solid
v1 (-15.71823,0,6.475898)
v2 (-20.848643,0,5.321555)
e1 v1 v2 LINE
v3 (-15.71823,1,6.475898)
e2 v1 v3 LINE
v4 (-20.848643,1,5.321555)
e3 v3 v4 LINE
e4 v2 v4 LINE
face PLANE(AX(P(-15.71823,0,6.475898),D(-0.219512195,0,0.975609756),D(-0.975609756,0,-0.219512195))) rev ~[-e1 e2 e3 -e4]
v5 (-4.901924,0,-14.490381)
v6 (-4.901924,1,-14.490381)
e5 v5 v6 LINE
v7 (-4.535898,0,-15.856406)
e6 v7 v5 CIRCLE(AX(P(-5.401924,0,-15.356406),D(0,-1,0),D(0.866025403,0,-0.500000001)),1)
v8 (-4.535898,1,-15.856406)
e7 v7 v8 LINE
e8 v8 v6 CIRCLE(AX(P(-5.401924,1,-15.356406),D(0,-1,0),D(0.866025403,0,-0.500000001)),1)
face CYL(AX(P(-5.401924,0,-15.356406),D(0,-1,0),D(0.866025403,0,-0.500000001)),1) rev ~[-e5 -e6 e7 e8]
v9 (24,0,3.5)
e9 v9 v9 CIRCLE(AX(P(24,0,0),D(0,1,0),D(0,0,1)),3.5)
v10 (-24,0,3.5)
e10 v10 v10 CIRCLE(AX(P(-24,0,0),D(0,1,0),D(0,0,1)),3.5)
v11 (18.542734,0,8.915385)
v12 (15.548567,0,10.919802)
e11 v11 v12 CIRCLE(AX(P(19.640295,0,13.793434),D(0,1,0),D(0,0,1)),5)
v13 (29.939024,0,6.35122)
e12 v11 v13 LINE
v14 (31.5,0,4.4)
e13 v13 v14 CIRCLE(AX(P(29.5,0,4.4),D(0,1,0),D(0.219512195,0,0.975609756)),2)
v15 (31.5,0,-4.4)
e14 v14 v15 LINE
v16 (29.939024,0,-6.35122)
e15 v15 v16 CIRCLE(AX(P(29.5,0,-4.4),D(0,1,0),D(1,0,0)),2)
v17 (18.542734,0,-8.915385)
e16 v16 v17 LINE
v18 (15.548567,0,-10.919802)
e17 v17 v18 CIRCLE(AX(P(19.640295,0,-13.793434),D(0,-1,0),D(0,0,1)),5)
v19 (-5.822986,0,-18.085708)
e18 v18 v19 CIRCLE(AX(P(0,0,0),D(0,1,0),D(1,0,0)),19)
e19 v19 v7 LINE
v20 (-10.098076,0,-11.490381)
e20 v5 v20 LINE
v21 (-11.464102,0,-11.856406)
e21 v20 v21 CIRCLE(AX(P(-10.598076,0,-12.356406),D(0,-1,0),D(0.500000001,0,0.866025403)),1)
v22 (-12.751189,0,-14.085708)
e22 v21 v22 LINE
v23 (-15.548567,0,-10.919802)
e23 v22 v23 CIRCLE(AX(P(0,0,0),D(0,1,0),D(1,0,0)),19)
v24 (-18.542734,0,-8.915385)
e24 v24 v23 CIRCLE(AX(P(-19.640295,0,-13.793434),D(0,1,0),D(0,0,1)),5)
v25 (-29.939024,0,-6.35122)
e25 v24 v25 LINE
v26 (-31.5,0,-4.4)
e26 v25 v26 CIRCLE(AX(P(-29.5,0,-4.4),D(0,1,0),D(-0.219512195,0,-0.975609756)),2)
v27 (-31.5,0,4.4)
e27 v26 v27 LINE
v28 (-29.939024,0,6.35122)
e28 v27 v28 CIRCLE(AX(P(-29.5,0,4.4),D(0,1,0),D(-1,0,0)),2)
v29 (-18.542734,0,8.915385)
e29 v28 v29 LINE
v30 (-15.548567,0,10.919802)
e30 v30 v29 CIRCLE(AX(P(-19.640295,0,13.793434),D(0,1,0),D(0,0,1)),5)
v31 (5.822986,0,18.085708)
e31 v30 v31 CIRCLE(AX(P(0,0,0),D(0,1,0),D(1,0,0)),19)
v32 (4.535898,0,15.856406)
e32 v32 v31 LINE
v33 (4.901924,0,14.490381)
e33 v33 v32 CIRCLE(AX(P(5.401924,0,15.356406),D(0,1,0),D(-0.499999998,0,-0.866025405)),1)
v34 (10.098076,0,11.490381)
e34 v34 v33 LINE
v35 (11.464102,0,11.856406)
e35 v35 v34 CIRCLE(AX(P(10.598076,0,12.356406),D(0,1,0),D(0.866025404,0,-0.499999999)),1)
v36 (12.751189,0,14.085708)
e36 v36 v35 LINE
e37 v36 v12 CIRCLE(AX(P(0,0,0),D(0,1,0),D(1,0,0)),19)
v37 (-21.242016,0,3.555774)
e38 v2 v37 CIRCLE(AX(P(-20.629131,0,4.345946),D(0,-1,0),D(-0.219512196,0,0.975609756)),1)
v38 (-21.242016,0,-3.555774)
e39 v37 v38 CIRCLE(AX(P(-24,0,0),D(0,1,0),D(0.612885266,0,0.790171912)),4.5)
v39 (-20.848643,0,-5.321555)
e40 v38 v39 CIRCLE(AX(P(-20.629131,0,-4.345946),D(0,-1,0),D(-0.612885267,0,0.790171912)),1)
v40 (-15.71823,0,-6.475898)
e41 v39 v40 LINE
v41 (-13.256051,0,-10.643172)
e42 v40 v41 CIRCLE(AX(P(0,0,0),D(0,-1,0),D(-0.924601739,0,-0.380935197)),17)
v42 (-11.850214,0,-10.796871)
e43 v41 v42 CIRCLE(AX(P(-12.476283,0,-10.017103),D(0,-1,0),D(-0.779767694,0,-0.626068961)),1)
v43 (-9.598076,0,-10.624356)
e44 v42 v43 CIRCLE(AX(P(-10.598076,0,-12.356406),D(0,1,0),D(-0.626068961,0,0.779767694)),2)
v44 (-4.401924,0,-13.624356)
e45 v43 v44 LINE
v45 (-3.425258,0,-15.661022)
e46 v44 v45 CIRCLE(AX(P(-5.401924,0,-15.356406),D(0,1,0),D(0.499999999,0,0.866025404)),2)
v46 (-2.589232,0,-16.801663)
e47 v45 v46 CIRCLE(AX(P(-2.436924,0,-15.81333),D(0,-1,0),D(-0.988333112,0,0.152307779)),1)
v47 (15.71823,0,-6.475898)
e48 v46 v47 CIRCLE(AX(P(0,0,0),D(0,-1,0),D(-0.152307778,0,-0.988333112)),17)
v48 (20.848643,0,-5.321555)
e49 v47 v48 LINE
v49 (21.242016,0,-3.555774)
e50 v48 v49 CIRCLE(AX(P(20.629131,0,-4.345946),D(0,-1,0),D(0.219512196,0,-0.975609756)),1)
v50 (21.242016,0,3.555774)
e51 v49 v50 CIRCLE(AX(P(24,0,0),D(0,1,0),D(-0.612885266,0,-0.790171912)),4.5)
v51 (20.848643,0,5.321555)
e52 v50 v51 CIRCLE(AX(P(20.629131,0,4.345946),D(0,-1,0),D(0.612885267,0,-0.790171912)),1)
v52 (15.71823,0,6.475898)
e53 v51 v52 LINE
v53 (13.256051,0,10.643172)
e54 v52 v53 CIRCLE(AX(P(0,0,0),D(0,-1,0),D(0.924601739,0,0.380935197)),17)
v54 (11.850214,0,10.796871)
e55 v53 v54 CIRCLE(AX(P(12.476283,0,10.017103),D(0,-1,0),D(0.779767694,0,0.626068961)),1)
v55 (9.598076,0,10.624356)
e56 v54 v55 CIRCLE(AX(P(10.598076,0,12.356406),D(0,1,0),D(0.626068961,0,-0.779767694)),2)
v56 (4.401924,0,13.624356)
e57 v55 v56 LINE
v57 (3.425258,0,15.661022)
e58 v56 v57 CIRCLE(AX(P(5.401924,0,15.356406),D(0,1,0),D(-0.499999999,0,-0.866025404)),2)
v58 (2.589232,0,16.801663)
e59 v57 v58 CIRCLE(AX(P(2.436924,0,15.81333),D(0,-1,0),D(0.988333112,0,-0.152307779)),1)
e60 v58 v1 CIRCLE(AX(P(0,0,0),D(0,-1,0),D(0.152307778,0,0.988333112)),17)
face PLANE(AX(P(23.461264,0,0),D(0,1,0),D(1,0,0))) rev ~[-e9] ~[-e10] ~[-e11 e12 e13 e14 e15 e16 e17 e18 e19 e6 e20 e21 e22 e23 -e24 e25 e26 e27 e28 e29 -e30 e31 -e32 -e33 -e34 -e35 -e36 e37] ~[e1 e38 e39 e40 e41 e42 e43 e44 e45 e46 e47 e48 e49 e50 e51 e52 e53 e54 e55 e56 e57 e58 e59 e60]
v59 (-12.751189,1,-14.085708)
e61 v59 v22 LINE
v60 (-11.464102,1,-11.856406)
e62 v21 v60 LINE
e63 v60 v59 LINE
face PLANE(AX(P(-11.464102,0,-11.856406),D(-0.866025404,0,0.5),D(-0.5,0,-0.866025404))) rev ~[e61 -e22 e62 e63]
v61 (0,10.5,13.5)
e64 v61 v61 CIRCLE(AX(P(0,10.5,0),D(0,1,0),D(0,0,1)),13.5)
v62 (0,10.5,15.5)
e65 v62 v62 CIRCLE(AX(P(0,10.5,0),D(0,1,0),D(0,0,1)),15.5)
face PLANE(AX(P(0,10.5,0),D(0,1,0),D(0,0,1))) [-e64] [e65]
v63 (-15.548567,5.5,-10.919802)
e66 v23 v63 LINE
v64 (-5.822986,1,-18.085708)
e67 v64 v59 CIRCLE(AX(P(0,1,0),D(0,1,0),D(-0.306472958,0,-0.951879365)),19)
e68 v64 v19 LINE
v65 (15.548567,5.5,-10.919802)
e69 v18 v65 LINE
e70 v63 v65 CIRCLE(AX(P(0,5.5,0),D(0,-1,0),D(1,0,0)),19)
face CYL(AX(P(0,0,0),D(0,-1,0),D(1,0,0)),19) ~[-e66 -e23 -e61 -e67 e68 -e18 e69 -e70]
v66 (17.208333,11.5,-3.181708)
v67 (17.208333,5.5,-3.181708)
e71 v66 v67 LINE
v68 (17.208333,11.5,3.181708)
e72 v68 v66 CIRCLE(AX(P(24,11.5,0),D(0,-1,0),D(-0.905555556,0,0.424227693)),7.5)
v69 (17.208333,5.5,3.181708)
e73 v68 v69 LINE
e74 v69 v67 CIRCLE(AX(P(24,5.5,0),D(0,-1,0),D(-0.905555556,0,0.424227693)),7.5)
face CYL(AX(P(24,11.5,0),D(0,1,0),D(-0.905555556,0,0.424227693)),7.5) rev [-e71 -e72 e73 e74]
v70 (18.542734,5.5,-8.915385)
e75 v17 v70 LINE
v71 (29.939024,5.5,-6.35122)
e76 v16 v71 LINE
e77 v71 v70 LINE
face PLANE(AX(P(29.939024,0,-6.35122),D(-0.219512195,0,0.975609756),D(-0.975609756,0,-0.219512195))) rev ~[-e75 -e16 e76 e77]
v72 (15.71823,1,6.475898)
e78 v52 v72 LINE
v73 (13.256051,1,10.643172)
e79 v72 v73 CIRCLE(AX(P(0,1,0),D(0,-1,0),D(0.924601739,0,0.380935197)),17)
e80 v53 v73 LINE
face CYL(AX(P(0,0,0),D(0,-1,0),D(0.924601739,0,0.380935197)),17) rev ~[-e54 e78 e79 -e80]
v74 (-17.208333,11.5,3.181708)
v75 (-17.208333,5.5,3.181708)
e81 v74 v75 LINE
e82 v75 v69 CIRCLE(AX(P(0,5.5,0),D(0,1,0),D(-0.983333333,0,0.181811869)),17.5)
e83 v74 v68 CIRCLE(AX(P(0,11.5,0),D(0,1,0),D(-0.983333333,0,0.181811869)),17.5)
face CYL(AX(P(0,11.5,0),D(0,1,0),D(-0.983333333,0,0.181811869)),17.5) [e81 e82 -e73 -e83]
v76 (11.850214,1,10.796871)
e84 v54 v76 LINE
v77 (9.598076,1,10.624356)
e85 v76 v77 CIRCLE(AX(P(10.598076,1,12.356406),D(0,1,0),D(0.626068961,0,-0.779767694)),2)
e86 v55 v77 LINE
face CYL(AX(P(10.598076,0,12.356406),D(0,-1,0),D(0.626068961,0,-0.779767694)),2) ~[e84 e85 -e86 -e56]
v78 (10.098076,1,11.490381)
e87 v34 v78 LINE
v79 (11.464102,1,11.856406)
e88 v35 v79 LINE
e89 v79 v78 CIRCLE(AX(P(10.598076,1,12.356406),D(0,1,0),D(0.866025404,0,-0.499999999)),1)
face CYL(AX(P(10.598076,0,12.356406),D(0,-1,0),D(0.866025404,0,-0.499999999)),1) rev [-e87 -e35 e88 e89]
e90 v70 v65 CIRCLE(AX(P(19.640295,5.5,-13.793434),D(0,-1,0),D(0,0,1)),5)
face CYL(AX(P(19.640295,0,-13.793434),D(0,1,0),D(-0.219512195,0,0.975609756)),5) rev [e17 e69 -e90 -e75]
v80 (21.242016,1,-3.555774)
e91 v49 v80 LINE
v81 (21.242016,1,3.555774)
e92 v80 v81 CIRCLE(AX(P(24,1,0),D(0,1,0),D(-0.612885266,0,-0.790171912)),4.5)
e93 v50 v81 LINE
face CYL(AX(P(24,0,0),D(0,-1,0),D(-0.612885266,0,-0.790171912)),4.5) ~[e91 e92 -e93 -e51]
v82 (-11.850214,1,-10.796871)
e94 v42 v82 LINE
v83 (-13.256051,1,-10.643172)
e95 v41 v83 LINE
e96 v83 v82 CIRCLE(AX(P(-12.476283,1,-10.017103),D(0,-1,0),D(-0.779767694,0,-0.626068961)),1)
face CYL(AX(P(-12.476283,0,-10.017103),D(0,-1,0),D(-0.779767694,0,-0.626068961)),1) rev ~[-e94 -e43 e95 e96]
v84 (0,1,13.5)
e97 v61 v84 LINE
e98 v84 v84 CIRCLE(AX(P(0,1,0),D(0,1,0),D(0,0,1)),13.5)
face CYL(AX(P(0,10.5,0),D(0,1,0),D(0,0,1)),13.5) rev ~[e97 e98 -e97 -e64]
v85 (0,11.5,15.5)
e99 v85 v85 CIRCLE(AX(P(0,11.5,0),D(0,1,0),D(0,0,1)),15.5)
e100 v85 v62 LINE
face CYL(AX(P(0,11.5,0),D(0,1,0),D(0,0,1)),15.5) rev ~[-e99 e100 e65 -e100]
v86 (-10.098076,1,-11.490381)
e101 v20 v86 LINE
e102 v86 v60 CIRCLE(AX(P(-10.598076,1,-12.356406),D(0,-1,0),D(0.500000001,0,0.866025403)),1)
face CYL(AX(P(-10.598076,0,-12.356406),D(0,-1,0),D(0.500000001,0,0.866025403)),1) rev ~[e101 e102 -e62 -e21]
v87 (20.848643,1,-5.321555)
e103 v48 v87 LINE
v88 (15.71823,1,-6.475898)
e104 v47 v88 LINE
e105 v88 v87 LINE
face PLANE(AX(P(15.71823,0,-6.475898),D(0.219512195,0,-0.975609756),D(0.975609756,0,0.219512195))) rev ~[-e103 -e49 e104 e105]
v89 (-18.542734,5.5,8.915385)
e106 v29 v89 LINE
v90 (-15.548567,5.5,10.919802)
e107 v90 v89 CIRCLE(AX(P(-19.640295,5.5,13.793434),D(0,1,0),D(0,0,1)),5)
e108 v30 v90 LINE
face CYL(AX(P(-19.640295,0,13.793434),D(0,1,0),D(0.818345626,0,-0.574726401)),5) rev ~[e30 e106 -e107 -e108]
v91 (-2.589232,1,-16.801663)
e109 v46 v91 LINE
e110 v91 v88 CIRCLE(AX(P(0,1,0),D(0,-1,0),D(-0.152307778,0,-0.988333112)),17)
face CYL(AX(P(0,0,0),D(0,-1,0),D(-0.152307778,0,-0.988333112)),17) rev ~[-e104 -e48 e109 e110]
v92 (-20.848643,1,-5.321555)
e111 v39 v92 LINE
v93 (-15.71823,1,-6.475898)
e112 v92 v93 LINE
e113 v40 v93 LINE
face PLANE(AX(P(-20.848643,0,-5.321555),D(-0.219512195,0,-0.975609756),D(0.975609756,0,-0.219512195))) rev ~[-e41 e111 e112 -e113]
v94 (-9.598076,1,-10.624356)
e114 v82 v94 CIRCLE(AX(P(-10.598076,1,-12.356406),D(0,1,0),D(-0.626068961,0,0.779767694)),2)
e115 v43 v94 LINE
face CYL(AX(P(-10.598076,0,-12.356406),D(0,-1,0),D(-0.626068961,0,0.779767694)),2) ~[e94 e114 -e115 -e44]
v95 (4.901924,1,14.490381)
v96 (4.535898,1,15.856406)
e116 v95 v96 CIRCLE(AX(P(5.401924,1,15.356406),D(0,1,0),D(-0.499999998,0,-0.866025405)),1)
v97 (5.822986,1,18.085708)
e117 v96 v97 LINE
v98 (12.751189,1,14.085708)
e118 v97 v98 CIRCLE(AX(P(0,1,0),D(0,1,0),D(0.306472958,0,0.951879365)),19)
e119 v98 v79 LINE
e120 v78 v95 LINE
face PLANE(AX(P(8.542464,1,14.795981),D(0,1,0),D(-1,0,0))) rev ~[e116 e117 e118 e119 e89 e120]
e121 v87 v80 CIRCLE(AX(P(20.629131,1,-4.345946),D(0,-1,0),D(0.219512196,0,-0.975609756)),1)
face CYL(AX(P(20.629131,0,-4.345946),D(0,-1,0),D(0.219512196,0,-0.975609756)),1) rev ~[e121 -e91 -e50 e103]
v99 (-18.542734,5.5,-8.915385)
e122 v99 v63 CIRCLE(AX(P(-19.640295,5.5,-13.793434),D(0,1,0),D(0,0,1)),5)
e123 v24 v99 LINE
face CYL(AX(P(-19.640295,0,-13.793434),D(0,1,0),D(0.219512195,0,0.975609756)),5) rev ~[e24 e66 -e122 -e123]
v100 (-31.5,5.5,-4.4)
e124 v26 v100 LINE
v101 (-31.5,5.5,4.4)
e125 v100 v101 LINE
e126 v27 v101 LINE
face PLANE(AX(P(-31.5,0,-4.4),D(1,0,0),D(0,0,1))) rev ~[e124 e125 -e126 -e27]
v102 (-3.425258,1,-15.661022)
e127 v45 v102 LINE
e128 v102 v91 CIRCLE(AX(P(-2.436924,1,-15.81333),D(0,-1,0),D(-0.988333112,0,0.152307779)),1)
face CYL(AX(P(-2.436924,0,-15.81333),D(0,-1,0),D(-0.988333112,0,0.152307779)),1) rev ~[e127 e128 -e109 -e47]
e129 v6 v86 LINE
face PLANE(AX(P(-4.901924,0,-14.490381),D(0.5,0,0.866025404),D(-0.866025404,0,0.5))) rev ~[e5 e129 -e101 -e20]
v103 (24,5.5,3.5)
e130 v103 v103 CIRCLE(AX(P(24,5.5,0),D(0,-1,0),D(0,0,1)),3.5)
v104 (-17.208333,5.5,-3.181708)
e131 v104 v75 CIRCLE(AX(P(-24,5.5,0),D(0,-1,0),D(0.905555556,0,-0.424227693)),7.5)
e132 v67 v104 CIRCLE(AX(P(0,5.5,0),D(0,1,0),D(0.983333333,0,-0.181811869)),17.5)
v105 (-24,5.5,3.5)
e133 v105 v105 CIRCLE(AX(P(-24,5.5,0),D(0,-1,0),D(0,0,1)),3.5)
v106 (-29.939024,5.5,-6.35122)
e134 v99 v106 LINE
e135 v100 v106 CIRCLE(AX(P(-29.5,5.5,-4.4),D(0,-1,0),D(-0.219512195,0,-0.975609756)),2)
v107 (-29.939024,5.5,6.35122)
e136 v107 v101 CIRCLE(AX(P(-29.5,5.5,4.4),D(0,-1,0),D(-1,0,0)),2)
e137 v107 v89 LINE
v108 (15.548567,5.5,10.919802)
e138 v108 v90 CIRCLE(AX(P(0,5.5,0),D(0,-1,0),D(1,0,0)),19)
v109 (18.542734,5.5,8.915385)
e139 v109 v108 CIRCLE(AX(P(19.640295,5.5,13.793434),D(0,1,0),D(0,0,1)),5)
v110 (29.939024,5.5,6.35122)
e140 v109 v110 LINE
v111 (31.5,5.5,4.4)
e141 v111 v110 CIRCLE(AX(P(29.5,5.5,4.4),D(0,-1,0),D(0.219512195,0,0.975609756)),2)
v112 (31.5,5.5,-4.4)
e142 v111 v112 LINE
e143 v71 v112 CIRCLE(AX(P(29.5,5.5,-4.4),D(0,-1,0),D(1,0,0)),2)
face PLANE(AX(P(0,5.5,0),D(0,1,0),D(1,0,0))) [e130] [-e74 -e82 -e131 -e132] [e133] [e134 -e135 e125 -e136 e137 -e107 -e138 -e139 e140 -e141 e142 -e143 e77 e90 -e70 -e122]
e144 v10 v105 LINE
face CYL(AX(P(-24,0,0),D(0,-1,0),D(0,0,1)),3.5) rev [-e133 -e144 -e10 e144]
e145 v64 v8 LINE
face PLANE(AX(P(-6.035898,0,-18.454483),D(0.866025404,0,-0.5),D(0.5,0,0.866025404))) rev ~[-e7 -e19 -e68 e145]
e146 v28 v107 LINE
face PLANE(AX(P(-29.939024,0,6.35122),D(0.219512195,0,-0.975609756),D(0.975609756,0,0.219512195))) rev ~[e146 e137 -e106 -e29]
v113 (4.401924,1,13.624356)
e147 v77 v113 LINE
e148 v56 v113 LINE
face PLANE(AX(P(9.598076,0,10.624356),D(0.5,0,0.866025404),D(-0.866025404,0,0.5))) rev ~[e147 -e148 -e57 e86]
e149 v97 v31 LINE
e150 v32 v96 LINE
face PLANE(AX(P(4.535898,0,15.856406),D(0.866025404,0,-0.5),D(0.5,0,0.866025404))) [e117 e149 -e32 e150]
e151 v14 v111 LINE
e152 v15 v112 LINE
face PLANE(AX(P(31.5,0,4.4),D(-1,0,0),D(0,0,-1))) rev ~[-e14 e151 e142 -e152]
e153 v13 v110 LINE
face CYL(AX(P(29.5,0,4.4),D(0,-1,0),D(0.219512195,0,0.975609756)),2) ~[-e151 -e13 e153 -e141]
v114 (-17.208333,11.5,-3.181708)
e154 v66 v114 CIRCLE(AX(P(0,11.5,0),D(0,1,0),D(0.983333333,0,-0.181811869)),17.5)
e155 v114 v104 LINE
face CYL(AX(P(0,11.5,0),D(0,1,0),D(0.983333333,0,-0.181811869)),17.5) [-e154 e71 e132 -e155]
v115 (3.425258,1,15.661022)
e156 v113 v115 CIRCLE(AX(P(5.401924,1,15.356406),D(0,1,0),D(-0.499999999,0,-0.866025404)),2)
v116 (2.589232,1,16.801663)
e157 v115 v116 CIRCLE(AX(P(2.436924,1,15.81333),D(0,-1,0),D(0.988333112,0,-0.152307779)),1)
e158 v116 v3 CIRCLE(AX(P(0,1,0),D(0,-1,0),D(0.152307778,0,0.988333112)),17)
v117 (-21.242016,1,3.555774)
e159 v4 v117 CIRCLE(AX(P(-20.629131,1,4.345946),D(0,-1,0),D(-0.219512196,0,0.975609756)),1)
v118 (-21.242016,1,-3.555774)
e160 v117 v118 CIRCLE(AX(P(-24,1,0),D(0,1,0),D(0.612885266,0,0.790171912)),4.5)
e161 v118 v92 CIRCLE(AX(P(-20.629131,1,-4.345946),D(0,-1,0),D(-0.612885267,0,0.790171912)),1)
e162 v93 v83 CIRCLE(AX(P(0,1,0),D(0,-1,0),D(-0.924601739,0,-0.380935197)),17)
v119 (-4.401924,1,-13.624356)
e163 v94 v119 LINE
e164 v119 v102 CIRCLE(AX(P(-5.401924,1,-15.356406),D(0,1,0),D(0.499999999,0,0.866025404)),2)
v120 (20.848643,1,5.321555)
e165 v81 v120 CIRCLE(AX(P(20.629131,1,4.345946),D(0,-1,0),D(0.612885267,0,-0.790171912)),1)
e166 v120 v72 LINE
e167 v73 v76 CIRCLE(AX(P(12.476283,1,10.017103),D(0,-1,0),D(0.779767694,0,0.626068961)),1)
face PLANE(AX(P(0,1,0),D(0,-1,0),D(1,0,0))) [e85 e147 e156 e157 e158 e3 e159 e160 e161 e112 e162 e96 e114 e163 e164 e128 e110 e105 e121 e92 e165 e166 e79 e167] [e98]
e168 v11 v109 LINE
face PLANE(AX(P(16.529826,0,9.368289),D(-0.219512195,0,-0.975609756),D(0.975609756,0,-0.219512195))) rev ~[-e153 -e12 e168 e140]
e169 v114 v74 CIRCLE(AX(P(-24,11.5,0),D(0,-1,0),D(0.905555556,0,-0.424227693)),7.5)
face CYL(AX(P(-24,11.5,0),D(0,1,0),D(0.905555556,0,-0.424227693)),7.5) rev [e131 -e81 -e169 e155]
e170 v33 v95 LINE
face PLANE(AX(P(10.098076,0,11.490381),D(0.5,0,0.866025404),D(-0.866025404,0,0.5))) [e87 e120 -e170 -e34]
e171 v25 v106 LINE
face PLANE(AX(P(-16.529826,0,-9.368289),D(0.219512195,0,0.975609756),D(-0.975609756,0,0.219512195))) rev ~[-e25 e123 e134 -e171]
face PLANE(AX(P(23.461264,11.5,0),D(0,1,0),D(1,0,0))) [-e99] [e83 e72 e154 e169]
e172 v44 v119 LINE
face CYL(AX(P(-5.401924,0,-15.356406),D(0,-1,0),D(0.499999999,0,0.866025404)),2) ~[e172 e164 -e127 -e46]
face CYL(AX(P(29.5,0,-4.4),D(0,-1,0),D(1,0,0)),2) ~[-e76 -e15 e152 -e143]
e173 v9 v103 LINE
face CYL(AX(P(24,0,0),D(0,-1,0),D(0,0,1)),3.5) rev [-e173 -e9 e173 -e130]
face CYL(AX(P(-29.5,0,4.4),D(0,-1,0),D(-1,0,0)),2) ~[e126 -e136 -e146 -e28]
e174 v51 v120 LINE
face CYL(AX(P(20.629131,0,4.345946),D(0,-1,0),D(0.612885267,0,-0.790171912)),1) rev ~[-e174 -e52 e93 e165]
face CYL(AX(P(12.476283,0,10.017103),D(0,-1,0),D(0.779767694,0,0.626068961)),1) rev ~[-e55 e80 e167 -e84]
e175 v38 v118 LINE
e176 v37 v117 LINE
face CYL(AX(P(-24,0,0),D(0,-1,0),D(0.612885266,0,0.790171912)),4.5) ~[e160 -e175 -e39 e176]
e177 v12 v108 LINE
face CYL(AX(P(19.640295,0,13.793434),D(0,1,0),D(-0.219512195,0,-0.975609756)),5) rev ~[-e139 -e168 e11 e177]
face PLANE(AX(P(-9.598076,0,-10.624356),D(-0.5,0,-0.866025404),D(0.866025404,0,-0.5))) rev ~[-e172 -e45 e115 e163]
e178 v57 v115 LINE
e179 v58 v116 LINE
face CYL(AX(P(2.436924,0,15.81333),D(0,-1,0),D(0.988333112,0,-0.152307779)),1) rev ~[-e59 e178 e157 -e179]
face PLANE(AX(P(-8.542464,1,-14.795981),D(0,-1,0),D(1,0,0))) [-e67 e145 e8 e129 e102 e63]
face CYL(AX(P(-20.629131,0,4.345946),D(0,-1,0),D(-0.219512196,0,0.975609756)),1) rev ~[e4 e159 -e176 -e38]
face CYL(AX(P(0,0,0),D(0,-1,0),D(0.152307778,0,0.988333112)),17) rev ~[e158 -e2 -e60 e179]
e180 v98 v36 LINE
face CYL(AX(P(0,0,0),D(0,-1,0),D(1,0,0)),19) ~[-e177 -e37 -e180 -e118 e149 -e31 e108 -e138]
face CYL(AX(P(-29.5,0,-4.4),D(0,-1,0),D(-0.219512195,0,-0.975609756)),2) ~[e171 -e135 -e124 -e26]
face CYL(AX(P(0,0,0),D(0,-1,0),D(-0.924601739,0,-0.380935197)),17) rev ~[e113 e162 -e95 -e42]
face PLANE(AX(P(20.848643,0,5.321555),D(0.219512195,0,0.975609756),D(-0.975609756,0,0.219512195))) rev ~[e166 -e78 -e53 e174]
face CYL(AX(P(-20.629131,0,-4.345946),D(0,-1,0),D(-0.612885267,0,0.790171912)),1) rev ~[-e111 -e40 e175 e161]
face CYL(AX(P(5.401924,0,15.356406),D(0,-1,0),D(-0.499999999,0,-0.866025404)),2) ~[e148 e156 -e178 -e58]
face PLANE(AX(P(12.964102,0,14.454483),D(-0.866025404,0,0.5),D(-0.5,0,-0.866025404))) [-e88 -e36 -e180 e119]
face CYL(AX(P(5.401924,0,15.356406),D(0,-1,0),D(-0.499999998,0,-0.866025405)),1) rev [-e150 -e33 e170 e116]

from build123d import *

# Parameters (mm, degrees)
SKETCH_1_R          = 3.5
SKETCH_1_R_2        = 19
EXTRUDE_1_DEPTH     = 11.5
SKETCH_2_R          = 42.113859259
CUT_EXTRUDE_1_DEPTH = 6
SKETCH_3_R          = 15.5
CUT_EXTRUDE_3_DEPTH = 1
CUT_EXTRUDE_4_DEPTH = 1
FILLET_1_R          = 5
SKETCH_5_R          = 13.5
CUT_EXTRUDE_6_DEPTH = 21


with BuildPart() as part:
    # Эскиз1 → Бобышка-Вытянуть1 (new body)
    # profile 1 of 3: a face of its own
    with BuildSketch(Plane(origin=(0, 0, 0), x_dir=(1, 0, 0), z_dir=(0, 1, 0))):
        with BuildLine():
            ThreePointArc((-29.93902439, 6.351219512), (-31.061737619, 5.649390095), (-31.5, 4.4))
            Line((-31.5, 4.4), (-31.5, -4.4))
            ThreePointArc((-31.5, -4.4), (-31.061737619, -5.649390095), (-29.93902439, -6.351219512))
            Line((-29.93902439, -6.351219512), (-16.529826375, -9.368289066))
            ThreePointArc((-16.529826375, -9.368289066), (-19, 0), (-16.529826375, 9.368289066))
            Line((-16.529826375, 9.368289066), (-29.93902439, 6.351219512))
        make_face()
        with Locations(Location((-24, 0, 0), (0, 0, 270))):
            Circle(SKETCH_1_R, mode=Mode.SUBTRACT)
    # profile 2 of 3: a face of its own
    with BuildSketch(Plane(origin=(0, 0, 0), x_dir=(1, 0, 0), z_dir=(0, 1, 0))):
        Circle(SKETCH_1_R_2)
    # profile 3 of 3: a face of its own
    with BuildSketch(Plane(origin=(0, 0, 0), x_dir=(1, 0, 0), z_dir=(0, 1, 0))):
        with BuildLine():
            Line((29.93902439, 6.351219512), (16.529826375, 9.368289066))
            ThreePointArc((16.529826375, 9.368289066), (18.372080736, 4.844238788), (19, 0))
            ThreePointArc((19, 0), (18.372080736, -4.844238788), (16.529826375, -9.368289066))
            Line((16.529826375, -9.368289066), (29.93902439, -6.351219512))
            ThreePointArc((29.93902439, -6.351219512), (31.061737619, -5.649390095), (31.5, -4.4))
            Line((31.5, -4.4), (31.5, 4.4))
            ThreePointArc((31.5, 4.4), (31.061737619, 5.649390095), (29.93902439, 6.351219512))
        make_face()
        with Locations(Location((24, 0, 0), (0, 0, 270))):
            Circle(SKETCH_1_R, mode=Mode.SUBTRACT)
    extrude(amount=EXTRUDE_1_DEPTH)

    # Эскиз2 → Вырез-Вытянуть1 (cut)
    with BuildSketch(Plane(origin=(0, 11.5, 0), x_dir=(1, 0, 0), z_dir=(0, 1, 0))):
        Circle(SKETCH_2_R)
        with BuildLine():
            ThreePointArc((17.208333333, 3.1817077), (0, 17.5), (-17.208333333, 3.1817077))
            ThreePointArc((-17.208333333, 3.1817077), (-16.5, 0), (-17.208333333, -3.1817077))
            ThreePointArc((-17.208333333, -3.1817077), (0, -17.5), (17.208333333, -3.1817077))
            ThreePointArc((17.208333333, -3.1817077), (16.5, 0), (17.208333333, 3.1817077))
        make_face(mode=Mode.SUBTRACT)
    extrude(amount=-CUT_EXTRUDE_1_DEPTH, mode=Mode.SUBTRACT)

    # Эскиз3 → Вырез-Вытянуть3 (cut)
    with BuildSketch(Plane(origin=(0, 11.5, 0), x_dir=(1, 0, 0), z_dir=(0, 1, 0))):
        with Locations(Location((0, 0, 0), (0, 0, 270))):
            Circle(SKETCH_3_R)
    extrude(amount=-CUT_EXTRUDE_3_DEPTH, mode=Mode.SUBTRACT)

    # Эскиз4 → Вырез-Вытянуть4 (cut)
    with BuildSketch(Plane.XZ):
        with BuildLine():
            Line((-20.848643232, -5.321555273), (-15.718229563, -6.475898348))
            ThreePointArc((-15.718229563, -6.475898348), (-14.636214456, -8.647613914), (-13.256050789, -10.643172341))
            ThreePointArc((-13.256050789, -10.643172341), (-12.584964511, -11.011180012), (-11.850214134, -10.796871074))
            ThreePointArc((-11.850214134, -10.796871074), (-10.750830182, -10.362248437), (-9.598076211, -10.624355653))
            Line((-9.598076211, -10.624355653), (-4.401923789, -13.624355653))
            ThreePointArc((-4.401923789, -13.624355653), (-3.598555295, -14.491616268), (-3.425257564, -15.661022017))
            ThreePointArc((-3.425257564, -15.661022017), (-3.243479361, -16.404488978), (-2.58923223, -16.801662908))
            ThreePointArc((-2.58923223, -16.801662908), (8.351526577, -14.807160559), (15.718229563, -6.475898348))
            Line((15.718229563, -6.475898348), (20.848643232, -5.321555273))
            ThreePointArc((20.848643232, -5.321555273), (21.605203579, -4.563390663), (21.242016303, -3.555773605))
            ThreePointArc((21.242016303, -3.555773605), (19.5, 0), (21.242016303, 3.555773605))
            ThreePointArc((21.242016303, 3.555773605), (21.605203579, 4.563390663), (20.848643232, 5.321555273))
            Line((20.848643232, 5.321555273), (15.718229563, 6.475898348))
            ThreePointArc((15.718229563, 6.475898348), (14.636214456, 8.647613914), (13.256050789, 10.643172341))
            ThreePointArc((13.256050789, 10.643172341), (12.584964511, 11.011180012), (11.850214134, 10.796871074))
            ThreePointArc((11.850214134, 10.796871074), (10.750830182, 10.362248437), (9.598076211, 10.624355653))
            Line((9.598076211, 10.624355653), (4.401923789, 13.624355653))
            ThreePointArc((4.401923789, 13.624355653), (3.598555295, 14.491616268), (3.425257564, 15.661022017))
            ThreePointArc((3.425257564, 15.661022017), (3.243479361, 16.404488978), (2.58923223, 16.801662908))
            ThreePointArc((2.58923223, 16.801662908), (-8.351526577, 14.807160559), (-15.718229563, 6.475898348))
            Line((-15.718229563, 6.475898348), (-20.848643232, 5.321555273))
            ThreePointArc((-20.848643232, 5.321555273), (-21.605203579, 4.563390663), (-21.242016303, 3.555773605))
            ThreePointArc((-21.242016303, 3.555773605), (-19.5, 0), (-21.242016303, -3.555773605))
            ThreePointArc((-21.242016303, -3.555773605), (-21.605203579, -4.563390663), (-20.848643232, -5.321555273))
        make_face()
        with BuildLine():
            Line((6.035898385, 18.454482672), (12.964101615, 14.454482672))
            Line((12.964101615, 14.454482672), (11.464101615, 11.856406461))
            ThreePointArc((11.464101615, 11.856406461), (10.856895256, 11.390480634), (10.098076211, 11.490381057))
            Line((10.098076211, 11.490381057), (4.901923789, 14.490381057))
            ThreePointArc((4.901923789, 14.490381057), (4.435997962, 15.097587415), (4.535898385, 15.856406461))
            Line((4.535898385, 15.856406461), (6.035898385, 18.454482672))
        make_face()
        with BuildLine():
            Line((-6.035898385, -18.454482672), (-4.535898385, -15.856406461))
            ThreePointArc((-4.535898385, -15.856406461), (-4.435997962, -15.097587415), (-4.901923789, -14.490381057))
            Line((-4.901923789, -14.490381057), (-10.098076211, -11.490381057))
            ThreePointArc((-10.098076211, -11.490381057), (-10.856895256, -11.390480634), (-11.464101615, -11.856406461))
            Line((-11.464101615, -11.856406461), (-12.964101615, -14.454482672))
            Line((-12.964101615, -14.454482672), (-6.035898385, -18.454482672))
        make_face()
    extrude(amount=-CUT_EXTRUDE_4_DEPTH, mode=Mode.SUBTRACT)

    # Скругление1
    fillet_1_edges = [part.edges().sort_by_distance(p)[0] for p in [
        (-16.529826375, 2.75, -9.368289066),
        (16.529826375, 2.75, -9.368289066),
        (16.529826375, 2.75, 9.368289066),
        (-16.529826375, 2.75, 9.368289066),
    ]]
    fillet(fillet_1_edges, radius=FILLET_1_R)

    # Эскиз5 → Вырез-Вытянуть6 (cut)
    with BuildSketch(Plane(origin=(0, 10.5, 0), x_dir=(1, 0, 0), z_dir=(0, 1, 0))):
        with Locations(Location((0, 0, 0), (0, 0, 270))):
            Circle(SKETCH_5_R)
    extrude(amount=-CUT_EXTRUDE_6_DEPTH, mode=Mode.SUBTRACT)


solid = part.part
